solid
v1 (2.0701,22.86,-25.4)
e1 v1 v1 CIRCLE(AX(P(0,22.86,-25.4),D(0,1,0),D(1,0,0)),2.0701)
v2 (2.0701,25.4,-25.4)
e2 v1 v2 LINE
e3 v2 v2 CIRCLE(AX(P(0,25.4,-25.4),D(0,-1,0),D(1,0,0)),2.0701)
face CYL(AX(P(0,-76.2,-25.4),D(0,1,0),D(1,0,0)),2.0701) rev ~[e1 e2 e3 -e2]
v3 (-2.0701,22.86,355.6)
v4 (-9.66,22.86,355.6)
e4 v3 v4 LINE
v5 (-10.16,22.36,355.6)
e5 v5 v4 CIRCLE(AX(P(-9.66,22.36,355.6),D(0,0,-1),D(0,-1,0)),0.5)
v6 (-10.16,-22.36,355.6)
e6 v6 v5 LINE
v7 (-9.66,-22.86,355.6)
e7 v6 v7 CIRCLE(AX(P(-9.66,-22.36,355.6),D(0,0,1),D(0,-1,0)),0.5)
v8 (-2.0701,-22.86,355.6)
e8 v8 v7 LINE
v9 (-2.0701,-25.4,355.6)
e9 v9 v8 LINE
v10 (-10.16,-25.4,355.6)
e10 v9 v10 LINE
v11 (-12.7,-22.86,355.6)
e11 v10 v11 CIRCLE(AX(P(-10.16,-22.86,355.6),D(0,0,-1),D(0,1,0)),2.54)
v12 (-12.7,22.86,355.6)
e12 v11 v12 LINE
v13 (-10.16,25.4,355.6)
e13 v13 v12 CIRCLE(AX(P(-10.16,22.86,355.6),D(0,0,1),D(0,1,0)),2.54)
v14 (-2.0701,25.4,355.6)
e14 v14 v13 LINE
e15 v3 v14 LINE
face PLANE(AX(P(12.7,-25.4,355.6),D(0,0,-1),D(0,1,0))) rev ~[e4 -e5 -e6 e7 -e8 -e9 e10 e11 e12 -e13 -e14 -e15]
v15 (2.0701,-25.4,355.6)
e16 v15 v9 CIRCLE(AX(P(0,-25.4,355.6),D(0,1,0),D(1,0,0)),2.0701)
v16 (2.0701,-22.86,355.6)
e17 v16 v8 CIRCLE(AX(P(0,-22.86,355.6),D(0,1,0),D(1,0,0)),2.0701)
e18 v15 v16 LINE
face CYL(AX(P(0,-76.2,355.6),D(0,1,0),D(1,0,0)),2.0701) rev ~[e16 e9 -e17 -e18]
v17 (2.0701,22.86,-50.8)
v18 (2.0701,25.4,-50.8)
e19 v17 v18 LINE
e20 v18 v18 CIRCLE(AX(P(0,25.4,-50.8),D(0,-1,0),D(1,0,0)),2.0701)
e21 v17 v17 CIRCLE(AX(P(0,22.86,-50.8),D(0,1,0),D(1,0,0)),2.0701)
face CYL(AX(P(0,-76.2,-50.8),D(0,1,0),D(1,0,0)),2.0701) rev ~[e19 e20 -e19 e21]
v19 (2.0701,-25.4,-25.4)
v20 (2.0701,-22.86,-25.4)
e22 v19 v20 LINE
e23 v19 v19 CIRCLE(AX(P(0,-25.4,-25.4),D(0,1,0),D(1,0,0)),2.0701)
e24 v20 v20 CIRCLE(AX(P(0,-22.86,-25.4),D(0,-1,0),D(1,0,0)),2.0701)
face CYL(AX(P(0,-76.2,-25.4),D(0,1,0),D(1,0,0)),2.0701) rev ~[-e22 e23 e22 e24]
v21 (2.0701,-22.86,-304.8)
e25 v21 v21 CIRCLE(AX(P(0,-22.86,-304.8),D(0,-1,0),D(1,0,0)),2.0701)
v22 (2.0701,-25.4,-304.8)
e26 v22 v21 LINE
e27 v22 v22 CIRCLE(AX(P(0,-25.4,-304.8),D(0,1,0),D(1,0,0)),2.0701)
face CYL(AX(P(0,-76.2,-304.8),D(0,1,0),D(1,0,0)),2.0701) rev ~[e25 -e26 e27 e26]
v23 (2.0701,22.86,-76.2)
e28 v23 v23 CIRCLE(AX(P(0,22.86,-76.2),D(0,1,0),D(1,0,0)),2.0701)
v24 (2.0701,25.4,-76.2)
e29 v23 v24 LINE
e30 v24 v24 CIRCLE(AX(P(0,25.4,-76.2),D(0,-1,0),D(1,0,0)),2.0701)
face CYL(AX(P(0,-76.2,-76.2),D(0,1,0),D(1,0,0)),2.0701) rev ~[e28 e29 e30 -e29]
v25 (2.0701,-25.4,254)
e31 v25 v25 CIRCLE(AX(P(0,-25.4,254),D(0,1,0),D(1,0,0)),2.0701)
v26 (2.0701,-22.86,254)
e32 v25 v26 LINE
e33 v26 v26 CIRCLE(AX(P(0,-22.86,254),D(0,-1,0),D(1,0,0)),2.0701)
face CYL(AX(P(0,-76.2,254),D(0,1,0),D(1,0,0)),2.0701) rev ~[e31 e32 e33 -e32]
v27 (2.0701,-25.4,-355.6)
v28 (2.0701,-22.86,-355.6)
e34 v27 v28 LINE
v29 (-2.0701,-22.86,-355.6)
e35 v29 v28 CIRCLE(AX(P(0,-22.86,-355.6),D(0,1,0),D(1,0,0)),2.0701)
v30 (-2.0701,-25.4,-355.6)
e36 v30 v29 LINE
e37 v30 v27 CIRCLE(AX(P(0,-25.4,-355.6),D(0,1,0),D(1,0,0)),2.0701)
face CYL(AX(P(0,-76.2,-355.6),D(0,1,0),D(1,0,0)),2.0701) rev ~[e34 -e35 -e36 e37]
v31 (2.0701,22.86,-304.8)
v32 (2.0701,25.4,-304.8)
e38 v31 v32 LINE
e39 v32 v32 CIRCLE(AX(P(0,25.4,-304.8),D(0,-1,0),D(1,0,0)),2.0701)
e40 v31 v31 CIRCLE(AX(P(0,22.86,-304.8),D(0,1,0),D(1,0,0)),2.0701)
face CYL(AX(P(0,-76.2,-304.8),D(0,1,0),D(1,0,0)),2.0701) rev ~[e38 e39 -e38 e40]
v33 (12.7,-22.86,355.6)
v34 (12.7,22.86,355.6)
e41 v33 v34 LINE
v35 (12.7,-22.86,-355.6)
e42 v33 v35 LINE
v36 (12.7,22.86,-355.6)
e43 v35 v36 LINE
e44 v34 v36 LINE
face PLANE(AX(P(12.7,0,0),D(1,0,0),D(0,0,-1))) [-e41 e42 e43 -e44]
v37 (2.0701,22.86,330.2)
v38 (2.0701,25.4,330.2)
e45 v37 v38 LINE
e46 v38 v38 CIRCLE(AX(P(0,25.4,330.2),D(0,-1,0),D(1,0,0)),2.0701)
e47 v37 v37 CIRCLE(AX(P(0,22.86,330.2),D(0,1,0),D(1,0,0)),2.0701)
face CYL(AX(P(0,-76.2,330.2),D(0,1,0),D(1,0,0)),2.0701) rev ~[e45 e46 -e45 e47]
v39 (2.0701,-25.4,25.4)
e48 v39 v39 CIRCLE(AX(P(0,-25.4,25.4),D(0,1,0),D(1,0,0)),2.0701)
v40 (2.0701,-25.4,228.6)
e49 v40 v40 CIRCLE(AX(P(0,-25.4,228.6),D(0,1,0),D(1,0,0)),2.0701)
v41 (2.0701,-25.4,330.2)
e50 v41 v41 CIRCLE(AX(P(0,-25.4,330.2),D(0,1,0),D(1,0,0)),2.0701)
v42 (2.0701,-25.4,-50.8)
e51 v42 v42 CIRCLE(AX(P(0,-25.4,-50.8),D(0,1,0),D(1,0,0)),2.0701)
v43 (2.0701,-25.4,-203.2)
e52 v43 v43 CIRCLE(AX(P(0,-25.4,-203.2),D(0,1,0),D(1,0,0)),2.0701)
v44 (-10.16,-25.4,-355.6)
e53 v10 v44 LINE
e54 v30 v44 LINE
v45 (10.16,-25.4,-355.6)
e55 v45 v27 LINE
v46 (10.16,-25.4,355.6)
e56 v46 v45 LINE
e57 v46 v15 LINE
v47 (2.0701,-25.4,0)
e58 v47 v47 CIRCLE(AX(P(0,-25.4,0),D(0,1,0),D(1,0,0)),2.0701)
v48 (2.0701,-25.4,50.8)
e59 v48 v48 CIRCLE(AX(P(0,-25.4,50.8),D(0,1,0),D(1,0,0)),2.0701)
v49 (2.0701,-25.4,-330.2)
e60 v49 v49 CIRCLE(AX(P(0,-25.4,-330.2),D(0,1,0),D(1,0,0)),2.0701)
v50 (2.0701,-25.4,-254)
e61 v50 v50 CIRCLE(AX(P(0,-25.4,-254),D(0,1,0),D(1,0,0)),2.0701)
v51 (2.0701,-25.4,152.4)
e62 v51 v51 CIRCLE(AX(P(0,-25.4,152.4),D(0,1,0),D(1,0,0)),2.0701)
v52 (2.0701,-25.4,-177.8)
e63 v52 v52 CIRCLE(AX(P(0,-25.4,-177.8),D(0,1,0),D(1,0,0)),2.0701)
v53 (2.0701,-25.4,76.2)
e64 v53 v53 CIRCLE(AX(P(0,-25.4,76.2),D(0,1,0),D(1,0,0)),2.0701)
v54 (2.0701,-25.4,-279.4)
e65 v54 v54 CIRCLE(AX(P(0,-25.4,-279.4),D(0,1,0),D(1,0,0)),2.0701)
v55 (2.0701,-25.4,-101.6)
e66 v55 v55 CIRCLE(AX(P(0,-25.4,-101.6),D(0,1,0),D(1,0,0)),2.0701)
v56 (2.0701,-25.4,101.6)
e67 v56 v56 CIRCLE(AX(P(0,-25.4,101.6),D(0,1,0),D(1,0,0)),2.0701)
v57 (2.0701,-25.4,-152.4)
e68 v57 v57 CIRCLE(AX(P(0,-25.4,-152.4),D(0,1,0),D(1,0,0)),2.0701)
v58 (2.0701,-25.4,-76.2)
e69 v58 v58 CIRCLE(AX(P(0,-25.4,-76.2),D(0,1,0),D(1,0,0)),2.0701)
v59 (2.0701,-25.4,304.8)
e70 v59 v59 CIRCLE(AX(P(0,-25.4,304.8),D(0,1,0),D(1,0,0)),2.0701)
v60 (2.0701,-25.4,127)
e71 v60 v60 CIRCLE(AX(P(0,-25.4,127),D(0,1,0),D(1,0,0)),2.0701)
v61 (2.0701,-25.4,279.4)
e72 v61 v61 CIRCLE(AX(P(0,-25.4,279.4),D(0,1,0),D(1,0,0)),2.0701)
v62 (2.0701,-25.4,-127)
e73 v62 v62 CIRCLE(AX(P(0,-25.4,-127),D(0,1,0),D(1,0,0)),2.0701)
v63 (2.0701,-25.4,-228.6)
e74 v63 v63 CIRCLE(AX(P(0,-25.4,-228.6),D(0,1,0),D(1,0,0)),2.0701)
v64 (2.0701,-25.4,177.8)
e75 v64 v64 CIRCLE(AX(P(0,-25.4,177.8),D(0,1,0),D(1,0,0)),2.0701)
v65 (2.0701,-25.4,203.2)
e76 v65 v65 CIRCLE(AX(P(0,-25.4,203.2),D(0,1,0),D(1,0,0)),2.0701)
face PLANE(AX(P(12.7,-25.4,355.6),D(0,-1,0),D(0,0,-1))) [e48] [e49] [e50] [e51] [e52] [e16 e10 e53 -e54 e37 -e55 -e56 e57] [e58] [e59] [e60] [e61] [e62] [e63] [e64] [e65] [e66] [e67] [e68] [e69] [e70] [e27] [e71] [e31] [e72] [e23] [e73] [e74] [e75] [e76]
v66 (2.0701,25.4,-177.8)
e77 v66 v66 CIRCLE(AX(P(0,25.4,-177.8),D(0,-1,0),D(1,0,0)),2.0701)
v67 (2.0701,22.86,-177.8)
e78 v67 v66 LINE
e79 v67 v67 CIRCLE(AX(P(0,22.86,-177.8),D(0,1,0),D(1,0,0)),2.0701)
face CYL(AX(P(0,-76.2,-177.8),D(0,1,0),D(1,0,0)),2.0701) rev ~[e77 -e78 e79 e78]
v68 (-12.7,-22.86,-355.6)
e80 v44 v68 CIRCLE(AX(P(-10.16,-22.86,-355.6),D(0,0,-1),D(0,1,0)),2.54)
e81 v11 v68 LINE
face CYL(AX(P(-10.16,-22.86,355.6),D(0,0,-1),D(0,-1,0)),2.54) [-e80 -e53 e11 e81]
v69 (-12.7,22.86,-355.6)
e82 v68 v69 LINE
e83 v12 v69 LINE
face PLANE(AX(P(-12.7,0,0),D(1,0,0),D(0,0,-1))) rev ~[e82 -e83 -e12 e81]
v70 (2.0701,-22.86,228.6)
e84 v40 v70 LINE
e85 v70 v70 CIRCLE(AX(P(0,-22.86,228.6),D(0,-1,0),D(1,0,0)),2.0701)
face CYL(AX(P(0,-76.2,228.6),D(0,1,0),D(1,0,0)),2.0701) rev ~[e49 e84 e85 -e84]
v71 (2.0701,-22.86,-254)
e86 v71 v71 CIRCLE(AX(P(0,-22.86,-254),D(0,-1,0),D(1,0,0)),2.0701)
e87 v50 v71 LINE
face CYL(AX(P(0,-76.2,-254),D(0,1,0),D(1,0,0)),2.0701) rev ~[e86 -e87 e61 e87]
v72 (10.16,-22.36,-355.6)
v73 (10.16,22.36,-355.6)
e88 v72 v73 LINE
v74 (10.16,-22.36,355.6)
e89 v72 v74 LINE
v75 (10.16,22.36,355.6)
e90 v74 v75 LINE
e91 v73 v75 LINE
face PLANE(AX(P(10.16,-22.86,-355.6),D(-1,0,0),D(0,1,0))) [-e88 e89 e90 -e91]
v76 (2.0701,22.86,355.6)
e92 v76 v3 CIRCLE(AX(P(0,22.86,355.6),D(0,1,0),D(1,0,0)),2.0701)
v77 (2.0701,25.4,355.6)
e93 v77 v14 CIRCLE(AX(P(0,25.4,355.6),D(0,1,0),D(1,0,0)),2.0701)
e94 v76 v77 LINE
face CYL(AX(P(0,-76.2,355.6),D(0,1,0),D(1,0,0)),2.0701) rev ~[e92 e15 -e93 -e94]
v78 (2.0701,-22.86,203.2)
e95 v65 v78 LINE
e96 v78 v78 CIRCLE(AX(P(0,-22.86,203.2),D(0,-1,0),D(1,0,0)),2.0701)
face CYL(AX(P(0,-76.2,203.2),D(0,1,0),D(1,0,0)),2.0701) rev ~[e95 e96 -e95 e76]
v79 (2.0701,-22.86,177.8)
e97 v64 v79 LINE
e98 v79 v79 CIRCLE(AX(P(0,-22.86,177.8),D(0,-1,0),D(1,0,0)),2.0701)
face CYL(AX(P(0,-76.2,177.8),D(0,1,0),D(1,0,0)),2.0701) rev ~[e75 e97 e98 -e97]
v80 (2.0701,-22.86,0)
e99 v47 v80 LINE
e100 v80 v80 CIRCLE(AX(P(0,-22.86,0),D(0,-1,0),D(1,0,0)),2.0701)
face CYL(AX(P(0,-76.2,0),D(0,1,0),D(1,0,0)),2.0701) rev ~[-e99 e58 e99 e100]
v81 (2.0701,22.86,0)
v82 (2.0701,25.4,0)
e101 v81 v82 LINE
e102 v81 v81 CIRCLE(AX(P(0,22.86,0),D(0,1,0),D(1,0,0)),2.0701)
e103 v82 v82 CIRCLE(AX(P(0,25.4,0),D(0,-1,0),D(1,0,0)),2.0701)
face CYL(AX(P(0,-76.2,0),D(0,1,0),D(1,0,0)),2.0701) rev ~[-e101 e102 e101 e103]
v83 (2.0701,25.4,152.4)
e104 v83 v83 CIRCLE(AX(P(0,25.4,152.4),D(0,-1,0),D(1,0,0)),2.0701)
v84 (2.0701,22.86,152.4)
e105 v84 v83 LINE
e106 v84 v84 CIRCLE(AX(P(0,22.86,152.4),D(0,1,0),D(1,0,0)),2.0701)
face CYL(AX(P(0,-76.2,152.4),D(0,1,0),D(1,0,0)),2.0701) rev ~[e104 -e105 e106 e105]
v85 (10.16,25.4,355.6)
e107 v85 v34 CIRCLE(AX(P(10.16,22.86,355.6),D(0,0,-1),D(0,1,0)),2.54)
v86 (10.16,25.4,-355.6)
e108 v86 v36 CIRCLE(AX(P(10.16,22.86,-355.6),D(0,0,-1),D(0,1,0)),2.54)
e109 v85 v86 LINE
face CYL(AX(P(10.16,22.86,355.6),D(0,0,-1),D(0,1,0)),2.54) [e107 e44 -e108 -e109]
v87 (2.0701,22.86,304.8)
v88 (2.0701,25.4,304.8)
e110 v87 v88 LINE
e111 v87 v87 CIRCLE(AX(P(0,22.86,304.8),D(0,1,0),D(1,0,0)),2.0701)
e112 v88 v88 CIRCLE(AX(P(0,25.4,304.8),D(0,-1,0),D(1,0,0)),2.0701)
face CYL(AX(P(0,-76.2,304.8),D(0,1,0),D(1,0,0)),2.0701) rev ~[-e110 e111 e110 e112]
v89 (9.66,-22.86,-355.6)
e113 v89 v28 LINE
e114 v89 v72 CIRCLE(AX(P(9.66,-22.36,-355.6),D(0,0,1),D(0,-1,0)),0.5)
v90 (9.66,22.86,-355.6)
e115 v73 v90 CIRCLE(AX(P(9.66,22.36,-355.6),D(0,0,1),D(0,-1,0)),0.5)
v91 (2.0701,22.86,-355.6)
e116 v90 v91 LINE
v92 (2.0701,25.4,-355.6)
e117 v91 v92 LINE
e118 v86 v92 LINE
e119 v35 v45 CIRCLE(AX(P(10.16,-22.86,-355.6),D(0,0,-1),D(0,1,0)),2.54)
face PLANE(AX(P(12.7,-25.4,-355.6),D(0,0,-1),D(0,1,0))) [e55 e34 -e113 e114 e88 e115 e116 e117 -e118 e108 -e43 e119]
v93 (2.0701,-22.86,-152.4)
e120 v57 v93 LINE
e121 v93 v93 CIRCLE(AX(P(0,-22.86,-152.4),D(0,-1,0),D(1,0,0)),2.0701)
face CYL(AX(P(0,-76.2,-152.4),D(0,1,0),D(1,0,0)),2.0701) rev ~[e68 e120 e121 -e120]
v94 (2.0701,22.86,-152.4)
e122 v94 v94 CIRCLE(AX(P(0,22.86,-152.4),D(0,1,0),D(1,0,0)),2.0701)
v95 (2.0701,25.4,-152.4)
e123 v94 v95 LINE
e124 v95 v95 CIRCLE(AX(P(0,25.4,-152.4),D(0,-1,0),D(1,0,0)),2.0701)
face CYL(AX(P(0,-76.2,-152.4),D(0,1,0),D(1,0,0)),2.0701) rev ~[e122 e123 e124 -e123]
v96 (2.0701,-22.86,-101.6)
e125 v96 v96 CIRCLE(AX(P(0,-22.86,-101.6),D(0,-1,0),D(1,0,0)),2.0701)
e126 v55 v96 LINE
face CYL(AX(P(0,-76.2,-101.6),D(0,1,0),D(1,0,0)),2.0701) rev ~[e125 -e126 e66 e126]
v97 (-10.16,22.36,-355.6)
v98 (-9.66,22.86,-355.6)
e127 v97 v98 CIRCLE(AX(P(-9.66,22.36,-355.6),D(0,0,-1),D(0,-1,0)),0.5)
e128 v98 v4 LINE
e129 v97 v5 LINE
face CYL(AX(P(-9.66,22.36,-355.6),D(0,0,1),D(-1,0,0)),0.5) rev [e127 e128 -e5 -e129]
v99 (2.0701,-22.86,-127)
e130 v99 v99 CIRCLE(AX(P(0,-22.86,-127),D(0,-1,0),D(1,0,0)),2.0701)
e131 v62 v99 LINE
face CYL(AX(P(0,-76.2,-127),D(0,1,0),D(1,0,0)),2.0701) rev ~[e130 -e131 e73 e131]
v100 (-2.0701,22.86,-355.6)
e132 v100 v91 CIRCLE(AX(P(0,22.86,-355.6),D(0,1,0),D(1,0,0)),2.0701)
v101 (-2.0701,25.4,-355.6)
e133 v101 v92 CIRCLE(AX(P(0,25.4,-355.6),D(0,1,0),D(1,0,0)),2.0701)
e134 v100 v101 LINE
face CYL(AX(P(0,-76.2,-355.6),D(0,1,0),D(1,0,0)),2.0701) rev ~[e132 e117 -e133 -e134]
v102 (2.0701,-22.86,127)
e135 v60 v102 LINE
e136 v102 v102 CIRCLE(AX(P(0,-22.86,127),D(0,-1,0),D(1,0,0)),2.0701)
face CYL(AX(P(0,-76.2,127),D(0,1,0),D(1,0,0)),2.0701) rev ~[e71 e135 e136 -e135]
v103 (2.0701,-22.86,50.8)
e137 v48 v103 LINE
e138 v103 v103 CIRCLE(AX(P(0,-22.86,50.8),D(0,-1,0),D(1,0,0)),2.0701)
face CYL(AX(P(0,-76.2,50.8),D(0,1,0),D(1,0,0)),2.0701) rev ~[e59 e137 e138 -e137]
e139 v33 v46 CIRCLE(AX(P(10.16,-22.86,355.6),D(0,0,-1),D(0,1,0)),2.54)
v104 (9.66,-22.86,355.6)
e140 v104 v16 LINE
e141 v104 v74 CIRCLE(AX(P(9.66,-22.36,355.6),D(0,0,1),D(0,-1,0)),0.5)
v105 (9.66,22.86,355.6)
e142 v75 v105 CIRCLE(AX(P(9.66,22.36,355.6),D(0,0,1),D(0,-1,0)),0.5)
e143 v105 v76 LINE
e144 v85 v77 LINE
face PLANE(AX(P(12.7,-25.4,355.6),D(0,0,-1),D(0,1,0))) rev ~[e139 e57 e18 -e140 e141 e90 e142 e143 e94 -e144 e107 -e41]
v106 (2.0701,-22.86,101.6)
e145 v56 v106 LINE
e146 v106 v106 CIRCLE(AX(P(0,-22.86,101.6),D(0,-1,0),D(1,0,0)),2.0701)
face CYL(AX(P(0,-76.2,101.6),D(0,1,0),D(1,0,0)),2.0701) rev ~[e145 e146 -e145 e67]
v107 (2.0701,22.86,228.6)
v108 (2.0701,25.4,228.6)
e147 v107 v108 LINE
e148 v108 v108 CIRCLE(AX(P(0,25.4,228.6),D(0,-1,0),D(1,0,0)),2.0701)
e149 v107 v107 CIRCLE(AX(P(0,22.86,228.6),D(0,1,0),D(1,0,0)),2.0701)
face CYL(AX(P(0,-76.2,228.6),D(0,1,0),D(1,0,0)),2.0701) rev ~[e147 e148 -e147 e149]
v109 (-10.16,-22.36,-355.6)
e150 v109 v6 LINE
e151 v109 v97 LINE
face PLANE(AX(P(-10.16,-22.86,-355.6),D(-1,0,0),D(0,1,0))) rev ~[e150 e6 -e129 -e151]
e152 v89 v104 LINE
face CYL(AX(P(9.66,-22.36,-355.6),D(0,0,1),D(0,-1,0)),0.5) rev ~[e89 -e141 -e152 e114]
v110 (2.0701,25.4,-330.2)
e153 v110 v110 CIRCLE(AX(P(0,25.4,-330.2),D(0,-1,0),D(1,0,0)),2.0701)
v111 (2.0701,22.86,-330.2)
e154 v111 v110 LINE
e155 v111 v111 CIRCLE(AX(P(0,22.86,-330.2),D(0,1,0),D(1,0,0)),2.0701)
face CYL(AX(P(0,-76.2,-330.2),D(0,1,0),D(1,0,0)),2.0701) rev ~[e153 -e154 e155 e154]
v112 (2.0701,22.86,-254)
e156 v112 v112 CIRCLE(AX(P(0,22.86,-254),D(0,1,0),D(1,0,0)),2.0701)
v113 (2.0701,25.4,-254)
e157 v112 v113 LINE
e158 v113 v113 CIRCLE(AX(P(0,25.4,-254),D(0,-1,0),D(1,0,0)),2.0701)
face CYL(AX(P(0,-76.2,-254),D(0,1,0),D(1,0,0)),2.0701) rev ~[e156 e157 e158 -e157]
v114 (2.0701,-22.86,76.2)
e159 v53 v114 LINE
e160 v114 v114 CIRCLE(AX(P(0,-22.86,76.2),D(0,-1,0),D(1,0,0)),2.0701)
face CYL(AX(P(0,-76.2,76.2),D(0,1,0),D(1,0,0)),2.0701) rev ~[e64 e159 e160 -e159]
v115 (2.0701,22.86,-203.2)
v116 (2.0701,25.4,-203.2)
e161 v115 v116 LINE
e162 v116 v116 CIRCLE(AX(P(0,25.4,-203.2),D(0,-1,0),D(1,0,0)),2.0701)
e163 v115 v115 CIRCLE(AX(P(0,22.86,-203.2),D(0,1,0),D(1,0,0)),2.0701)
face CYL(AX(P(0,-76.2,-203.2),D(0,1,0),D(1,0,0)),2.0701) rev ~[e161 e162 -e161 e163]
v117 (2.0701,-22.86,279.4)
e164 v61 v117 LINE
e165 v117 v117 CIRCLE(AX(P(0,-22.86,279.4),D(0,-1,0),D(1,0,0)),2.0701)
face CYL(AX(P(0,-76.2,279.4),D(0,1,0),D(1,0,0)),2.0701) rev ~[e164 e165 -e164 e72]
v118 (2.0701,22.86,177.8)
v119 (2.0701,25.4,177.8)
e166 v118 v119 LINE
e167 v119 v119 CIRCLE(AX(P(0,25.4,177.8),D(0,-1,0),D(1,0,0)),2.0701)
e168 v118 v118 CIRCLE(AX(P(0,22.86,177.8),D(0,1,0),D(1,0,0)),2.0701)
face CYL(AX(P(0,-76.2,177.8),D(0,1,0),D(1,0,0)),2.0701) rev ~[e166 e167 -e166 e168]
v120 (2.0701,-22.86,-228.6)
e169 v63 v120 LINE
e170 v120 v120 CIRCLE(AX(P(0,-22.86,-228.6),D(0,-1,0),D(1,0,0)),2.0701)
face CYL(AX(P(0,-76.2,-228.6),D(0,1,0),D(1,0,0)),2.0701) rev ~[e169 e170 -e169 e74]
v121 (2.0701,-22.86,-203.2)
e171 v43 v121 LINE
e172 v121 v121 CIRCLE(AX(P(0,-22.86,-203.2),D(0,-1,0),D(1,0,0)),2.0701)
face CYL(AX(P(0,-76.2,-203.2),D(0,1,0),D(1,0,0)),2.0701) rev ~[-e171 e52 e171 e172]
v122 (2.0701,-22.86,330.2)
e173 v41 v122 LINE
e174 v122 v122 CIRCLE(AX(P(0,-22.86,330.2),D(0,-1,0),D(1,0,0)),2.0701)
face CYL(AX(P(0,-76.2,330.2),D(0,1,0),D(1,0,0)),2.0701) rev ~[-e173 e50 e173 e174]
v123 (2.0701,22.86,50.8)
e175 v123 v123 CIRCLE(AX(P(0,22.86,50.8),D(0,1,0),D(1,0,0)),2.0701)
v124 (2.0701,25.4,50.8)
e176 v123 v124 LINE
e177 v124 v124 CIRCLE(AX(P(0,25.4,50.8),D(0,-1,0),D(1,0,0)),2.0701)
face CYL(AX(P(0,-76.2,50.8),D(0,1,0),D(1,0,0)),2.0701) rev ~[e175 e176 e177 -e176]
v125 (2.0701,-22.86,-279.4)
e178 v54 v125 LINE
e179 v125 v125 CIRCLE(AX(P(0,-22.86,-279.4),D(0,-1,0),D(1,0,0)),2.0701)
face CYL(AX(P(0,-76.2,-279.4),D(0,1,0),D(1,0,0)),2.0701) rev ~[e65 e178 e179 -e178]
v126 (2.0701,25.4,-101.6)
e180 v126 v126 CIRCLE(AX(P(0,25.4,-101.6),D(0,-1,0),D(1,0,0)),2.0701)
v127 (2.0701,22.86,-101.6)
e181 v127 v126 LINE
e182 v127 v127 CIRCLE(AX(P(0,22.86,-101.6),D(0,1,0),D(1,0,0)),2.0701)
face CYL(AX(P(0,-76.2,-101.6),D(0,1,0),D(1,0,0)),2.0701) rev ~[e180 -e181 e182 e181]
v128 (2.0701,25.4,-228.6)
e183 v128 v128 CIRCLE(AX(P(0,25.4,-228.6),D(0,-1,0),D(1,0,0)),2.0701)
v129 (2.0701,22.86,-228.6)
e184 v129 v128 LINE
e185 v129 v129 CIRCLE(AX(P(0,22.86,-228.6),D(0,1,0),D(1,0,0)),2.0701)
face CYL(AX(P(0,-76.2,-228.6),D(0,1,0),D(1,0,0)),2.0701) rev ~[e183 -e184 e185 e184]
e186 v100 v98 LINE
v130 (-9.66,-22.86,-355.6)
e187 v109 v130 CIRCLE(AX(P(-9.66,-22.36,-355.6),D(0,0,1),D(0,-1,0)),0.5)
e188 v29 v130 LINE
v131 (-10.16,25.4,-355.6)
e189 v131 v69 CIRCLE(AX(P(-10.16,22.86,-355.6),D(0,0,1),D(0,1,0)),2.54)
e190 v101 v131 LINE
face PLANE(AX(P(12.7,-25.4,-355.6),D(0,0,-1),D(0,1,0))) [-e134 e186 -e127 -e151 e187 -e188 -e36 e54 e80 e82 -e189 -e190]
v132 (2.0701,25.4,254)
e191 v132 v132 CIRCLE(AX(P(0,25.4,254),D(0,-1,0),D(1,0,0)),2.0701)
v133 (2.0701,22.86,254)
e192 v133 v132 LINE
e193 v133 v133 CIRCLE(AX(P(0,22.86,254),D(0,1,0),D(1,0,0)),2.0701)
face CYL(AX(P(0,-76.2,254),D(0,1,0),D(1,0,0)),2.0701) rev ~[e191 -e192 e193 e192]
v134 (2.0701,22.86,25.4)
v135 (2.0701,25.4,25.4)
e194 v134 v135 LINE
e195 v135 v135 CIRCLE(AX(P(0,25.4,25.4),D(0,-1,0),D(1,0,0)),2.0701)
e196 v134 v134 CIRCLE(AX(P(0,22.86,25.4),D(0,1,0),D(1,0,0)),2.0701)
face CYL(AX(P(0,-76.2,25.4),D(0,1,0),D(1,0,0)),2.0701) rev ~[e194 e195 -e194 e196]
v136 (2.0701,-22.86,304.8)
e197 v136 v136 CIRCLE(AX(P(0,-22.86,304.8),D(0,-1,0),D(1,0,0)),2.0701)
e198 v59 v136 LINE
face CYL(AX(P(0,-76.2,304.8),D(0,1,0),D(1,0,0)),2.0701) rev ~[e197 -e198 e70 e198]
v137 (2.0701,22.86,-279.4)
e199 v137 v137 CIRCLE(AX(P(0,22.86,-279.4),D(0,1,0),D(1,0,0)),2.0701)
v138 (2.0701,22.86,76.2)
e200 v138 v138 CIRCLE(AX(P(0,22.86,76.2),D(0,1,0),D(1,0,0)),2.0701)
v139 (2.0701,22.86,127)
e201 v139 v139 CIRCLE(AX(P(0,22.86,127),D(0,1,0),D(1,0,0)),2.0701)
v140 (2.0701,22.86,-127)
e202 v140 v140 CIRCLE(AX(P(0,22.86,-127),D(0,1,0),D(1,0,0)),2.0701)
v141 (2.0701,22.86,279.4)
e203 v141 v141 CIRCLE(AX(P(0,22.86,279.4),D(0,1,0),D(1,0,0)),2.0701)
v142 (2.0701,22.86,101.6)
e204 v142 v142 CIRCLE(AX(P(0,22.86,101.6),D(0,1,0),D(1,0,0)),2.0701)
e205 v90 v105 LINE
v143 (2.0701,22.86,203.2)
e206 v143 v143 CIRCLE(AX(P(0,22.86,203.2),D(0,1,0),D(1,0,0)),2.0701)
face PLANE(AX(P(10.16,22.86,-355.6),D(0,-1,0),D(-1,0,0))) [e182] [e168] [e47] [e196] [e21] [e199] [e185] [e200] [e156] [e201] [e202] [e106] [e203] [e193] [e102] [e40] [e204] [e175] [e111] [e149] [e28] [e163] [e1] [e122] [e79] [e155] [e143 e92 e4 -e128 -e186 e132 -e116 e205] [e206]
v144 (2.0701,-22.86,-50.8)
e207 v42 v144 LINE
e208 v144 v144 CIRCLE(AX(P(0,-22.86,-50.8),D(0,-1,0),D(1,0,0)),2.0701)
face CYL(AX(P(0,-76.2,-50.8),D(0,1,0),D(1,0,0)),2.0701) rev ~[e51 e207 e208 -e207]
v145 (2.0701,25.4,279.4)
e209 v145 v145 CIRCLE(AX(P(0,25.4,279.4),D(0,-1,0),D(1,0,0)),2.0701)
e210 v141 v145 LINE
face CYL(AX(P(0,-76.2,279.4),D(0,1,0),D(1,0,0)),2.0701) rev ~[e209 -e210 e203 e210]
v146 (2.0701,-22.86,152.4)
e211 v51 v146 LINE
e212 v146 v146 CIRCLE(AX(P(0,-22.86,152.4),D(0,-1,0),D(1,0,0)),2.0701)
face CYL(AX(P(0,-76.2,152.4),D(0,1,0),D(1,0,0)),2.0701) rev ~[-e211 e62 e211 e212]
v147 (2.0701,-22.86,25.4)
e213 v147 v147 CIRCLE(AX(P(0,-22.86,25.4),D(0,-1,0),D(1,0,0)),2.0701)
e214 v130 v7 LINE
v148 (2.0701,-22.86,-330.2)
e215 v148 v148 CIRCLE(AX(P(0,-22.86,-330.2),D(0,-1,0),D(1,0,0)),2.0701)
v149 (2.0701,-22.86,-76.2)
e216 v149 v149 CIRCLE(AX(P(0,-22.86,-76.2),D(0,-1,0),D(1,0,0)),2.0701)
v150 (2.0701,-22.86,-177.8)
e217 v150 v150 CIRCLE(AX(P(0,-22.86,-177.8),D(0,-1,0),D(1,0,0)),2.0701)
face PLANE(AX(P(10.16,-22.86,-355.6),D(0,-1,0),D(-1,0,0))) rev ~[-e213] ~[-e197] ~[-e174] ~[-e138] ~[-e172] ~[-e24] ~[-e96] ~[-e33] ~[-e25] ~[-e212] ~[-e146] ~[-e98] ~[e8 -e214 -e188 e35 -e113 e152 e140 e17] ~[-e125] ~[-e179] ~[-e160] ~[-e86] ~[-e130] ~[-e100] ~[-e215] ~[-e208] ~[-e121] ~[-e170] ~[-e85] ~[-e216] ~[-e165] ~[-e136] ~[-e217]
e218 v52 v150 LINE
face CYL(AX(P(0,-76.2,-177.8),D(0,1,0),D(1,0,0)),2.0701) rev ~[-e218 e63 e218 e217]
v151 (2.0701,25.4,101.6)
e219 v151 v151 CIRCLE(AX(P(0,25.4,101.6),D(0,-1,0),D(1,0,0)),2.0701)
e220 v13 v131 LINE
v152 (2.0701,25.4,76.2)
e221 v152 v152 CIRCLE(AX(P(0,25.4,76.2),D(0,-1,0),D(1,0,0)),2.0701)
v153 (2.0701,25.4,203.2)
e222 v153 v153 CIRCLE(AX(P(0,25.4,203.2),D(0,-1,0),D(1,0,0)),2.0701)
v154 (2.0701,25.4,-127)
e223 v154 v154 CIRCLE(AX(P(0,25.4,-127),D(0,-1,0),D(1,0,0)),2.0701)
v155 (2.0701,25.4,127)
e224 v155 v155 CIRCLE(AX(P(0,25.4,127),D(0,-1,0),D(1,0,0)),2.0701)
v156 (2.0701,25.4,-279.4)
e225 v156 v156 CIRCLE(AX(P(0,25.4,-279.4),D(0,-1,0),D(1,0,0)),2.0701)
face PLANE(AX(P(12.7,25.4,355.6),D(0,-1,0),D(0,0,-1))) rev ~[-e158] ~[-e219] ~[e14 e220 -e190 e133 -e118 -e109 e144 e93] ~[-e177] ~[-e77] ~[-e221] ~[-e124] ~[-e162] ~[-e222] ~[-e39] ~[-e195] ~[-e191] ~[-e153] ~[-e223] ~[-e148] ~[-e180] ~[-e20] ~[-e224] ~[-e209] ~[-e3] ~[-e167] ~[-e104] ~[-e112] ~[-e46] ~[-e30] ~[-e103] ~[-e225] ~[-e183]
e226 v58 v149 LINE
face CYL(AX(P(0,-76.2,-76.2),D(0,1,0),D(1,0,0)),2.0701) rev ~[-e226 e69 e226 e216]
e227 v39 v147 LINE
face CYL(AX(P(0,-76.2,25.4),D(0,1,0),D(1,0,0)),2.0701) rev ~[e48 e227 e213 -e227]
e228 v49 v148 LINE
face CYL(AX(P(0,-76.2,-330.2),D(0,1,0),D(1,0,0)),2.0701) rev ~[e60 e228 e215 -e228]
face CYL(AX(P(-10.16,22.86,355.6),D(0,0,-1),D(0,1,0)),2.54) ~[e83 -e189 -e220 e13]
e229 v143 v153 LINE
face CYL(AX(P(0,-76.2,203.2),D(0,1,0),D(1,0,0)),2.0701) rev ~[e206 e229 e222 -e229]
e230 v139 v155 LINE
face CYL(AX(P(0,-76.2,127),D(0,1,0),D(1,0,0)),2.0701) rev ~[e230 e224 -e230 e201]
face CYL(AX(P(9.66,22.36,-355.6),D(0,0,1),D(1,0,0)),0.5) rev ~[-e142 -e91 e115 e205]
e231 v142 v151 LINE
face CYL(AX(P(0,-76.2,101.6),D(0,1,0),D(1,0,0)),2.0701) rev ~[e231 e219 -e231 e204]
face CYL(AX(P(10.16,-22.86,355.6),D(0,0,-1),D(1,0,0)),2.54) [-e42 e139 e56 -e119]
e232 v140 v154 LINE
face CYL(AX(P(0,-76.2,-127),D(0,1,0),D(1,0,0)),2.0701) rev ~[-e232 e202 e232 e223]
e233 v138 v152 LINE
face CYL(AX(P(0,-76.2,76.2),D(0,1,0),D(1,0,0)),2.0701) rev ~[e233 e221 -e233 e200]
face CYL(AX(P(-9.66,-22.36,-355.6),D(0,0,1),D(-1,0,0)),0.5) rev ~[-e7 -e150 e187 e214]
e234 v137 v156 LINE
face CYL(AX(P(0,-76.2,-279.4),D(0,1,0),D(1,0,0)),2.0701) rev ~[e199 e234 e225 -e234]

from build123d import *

# Parameters (mm, degrees)
SKETCH1_W                 = 711.2
SKETCH1_H                 = 50.8
BOSS_EXTRUDE1_DEPTH       = 25.4
SKETCH2_W                 = 20.32
SKETCH2_H                 = 45.72
CUT_EXTRUDE1_DEPTH        = 712.2
F_6_CLEARANCE_HOLE1_D     = 4.1402
F_6_CLEARANCE_HOLE1_DEPTH = 50.8
F_6_CLEARANCE_HOLE2_D     = 4.1402
F_6_CLEARANCE_HOLE2_DEPTH = 50.8
FILLET1_R                 = 0.5
FILLET2_R                 = 2.54


with BuildPart() as part:
    # Sketch1 → Boss-Extrude1 (new body)
    with BuildSketch(Plane(origin=(12.7, 0, 0), x_dir=(0, 0, -1), z_dir=(1, 0, 0))):
        Rectangle(SKETCH1_W, SKETCH1_H)
    extrude(amount=-BOSS_EXTRUDE1_DEPTH)

    # Sketch2 → Cut-Extrude1 (cut, through all)
    with BuildSketch(Plane(origin=(0, 0, -355.6), x_dir=(-1, 0, 0), z_dir=(0, 0, -1))):
        Rectangle(SKETCH2_W, SKETCH2_H)
    extrude(amount=-CUT_EXTRUDE1_DEPTH, mode=Mode.SUBTRACT)

    # #6 Clearance Hole1
    with Locations(Plane(origin=(0, -25.4, 0), x_dir=(-1, 0, 0), z_dir=(0, -1, 0))):
        with Locations((0, 711.2), (0, 736.6), (0, 685.8), (0, 660.4), (0, 635), (0, 609.6), (0, 584.2), (0, 558.8), (0, 533.4), (0, 508), (0, 482.6), (0, 457.2), (0, 431.8), (0, 406.4), (0, 381), (0, 355.6), (0, 330.2), (0, 304.8), (0, 279.4), (0, 254), (0, 228.6), (0, 203.2), (0, 177.8), (0, 152.4), (0, 127), (0, 101.6), (0, 76.2), (0, 50.8), (0, 25.4), (0, 0), (0, -25.4), (0, -50.8), (0, -76.2), (0, -101.6), (0, -127), (0, -152.4), (0, -177.8), (0, -203.2), (0, -228.6), (0, -254), (0, -279.4), (0, -304.8), (0, -330.2), (0, -355.6), (0, -381), (0, -406.4), (0, -431.8), (0, -457.2), (0, -482.6), (0, -508), (0, -533.4), (0, -558.8), (0, -584.2), (0, -609.6), (0, -635), (0, -660.4), (0, -685.8), (0, -711.2), (0, -736.6)):
            Hole(F_6_CLEARANCE_HOLE1_D / 2, depth=F_6_CLEARANCE_HOLE1_DEPTH)

    # #6 Clearance Hole2
    with Locations(Plane(origin=(0, 25.4, 0), x_dir=(1, 0, 0), z_dir=(0, 1, 0))):
        with Locations((0, 711.2), (0, 736.6), (0, 685.8), (0, 660.4), (0, 635), (0, 609.6), (0, 584.2), (0, 558.8), (0, 533.4), (0, 508), (0, 482.6), (0, 457.2), (0, 431.8), (0, 406.4), (0, 381), (0, 355.6), (0, 330.2), (0, 304.8), (0, 279.4), (0, 254), (0, 228.6), (0, 203.2), (0, 177.8), (0, 152.4), (0, 127), (0, 101.6), (0, 76.2), (0, 50.8), (0, 25.4), (0, 0), (0, -25.4), (0, -50.8), (0, -76.2), (0, -101.6), (0, -127), (0, -152.4), (0, -177.8), (0, -203.2), (0, -228.6), (0, -254), (0, -279.4), (0, -304.8), (0, -330.2), (0, -355.6), (0, -381), (0, -406.4), (0, -431.8), (0, -457.2), (0, -482.6), (0, -508), (0, -533.4), (0, -558.8), (0, -584.2), (0, -609.6), (0, -635), (0, -660.4), (0, -685.8), (0, -711.2), (0, -736.6)):
            Hole(F_6_CLEARANCE_HOLE2_D / 2, depth=F_6_CLEARANCE_HOLE2_DEPTH)

    # Fillet1
    fillet1_edges = [part.edges().sort_by_distance(p)[0] for p in [
        (-10.16, -22.86, 0),
        (10.16, -22.86, 0),
        (10.16, 22.86, 0),
        (-10.16, 22.86, 0),
    ]]
    fillet(fillet1_edges, radius=FILLET1_R)

    # Fillet2
    fillet2_edges = [part.edges().sort_by_distance(p)[0] for p in [
        (-12.7, 25.4, 0),
        (-12.7, -25.4, 0),
        (12.7, 25.4, 0),
        (12.7, -25.4, 0),
    ]]
    fillet(fillet2_edges, radius=FILLET2_R)


solid = part.part
